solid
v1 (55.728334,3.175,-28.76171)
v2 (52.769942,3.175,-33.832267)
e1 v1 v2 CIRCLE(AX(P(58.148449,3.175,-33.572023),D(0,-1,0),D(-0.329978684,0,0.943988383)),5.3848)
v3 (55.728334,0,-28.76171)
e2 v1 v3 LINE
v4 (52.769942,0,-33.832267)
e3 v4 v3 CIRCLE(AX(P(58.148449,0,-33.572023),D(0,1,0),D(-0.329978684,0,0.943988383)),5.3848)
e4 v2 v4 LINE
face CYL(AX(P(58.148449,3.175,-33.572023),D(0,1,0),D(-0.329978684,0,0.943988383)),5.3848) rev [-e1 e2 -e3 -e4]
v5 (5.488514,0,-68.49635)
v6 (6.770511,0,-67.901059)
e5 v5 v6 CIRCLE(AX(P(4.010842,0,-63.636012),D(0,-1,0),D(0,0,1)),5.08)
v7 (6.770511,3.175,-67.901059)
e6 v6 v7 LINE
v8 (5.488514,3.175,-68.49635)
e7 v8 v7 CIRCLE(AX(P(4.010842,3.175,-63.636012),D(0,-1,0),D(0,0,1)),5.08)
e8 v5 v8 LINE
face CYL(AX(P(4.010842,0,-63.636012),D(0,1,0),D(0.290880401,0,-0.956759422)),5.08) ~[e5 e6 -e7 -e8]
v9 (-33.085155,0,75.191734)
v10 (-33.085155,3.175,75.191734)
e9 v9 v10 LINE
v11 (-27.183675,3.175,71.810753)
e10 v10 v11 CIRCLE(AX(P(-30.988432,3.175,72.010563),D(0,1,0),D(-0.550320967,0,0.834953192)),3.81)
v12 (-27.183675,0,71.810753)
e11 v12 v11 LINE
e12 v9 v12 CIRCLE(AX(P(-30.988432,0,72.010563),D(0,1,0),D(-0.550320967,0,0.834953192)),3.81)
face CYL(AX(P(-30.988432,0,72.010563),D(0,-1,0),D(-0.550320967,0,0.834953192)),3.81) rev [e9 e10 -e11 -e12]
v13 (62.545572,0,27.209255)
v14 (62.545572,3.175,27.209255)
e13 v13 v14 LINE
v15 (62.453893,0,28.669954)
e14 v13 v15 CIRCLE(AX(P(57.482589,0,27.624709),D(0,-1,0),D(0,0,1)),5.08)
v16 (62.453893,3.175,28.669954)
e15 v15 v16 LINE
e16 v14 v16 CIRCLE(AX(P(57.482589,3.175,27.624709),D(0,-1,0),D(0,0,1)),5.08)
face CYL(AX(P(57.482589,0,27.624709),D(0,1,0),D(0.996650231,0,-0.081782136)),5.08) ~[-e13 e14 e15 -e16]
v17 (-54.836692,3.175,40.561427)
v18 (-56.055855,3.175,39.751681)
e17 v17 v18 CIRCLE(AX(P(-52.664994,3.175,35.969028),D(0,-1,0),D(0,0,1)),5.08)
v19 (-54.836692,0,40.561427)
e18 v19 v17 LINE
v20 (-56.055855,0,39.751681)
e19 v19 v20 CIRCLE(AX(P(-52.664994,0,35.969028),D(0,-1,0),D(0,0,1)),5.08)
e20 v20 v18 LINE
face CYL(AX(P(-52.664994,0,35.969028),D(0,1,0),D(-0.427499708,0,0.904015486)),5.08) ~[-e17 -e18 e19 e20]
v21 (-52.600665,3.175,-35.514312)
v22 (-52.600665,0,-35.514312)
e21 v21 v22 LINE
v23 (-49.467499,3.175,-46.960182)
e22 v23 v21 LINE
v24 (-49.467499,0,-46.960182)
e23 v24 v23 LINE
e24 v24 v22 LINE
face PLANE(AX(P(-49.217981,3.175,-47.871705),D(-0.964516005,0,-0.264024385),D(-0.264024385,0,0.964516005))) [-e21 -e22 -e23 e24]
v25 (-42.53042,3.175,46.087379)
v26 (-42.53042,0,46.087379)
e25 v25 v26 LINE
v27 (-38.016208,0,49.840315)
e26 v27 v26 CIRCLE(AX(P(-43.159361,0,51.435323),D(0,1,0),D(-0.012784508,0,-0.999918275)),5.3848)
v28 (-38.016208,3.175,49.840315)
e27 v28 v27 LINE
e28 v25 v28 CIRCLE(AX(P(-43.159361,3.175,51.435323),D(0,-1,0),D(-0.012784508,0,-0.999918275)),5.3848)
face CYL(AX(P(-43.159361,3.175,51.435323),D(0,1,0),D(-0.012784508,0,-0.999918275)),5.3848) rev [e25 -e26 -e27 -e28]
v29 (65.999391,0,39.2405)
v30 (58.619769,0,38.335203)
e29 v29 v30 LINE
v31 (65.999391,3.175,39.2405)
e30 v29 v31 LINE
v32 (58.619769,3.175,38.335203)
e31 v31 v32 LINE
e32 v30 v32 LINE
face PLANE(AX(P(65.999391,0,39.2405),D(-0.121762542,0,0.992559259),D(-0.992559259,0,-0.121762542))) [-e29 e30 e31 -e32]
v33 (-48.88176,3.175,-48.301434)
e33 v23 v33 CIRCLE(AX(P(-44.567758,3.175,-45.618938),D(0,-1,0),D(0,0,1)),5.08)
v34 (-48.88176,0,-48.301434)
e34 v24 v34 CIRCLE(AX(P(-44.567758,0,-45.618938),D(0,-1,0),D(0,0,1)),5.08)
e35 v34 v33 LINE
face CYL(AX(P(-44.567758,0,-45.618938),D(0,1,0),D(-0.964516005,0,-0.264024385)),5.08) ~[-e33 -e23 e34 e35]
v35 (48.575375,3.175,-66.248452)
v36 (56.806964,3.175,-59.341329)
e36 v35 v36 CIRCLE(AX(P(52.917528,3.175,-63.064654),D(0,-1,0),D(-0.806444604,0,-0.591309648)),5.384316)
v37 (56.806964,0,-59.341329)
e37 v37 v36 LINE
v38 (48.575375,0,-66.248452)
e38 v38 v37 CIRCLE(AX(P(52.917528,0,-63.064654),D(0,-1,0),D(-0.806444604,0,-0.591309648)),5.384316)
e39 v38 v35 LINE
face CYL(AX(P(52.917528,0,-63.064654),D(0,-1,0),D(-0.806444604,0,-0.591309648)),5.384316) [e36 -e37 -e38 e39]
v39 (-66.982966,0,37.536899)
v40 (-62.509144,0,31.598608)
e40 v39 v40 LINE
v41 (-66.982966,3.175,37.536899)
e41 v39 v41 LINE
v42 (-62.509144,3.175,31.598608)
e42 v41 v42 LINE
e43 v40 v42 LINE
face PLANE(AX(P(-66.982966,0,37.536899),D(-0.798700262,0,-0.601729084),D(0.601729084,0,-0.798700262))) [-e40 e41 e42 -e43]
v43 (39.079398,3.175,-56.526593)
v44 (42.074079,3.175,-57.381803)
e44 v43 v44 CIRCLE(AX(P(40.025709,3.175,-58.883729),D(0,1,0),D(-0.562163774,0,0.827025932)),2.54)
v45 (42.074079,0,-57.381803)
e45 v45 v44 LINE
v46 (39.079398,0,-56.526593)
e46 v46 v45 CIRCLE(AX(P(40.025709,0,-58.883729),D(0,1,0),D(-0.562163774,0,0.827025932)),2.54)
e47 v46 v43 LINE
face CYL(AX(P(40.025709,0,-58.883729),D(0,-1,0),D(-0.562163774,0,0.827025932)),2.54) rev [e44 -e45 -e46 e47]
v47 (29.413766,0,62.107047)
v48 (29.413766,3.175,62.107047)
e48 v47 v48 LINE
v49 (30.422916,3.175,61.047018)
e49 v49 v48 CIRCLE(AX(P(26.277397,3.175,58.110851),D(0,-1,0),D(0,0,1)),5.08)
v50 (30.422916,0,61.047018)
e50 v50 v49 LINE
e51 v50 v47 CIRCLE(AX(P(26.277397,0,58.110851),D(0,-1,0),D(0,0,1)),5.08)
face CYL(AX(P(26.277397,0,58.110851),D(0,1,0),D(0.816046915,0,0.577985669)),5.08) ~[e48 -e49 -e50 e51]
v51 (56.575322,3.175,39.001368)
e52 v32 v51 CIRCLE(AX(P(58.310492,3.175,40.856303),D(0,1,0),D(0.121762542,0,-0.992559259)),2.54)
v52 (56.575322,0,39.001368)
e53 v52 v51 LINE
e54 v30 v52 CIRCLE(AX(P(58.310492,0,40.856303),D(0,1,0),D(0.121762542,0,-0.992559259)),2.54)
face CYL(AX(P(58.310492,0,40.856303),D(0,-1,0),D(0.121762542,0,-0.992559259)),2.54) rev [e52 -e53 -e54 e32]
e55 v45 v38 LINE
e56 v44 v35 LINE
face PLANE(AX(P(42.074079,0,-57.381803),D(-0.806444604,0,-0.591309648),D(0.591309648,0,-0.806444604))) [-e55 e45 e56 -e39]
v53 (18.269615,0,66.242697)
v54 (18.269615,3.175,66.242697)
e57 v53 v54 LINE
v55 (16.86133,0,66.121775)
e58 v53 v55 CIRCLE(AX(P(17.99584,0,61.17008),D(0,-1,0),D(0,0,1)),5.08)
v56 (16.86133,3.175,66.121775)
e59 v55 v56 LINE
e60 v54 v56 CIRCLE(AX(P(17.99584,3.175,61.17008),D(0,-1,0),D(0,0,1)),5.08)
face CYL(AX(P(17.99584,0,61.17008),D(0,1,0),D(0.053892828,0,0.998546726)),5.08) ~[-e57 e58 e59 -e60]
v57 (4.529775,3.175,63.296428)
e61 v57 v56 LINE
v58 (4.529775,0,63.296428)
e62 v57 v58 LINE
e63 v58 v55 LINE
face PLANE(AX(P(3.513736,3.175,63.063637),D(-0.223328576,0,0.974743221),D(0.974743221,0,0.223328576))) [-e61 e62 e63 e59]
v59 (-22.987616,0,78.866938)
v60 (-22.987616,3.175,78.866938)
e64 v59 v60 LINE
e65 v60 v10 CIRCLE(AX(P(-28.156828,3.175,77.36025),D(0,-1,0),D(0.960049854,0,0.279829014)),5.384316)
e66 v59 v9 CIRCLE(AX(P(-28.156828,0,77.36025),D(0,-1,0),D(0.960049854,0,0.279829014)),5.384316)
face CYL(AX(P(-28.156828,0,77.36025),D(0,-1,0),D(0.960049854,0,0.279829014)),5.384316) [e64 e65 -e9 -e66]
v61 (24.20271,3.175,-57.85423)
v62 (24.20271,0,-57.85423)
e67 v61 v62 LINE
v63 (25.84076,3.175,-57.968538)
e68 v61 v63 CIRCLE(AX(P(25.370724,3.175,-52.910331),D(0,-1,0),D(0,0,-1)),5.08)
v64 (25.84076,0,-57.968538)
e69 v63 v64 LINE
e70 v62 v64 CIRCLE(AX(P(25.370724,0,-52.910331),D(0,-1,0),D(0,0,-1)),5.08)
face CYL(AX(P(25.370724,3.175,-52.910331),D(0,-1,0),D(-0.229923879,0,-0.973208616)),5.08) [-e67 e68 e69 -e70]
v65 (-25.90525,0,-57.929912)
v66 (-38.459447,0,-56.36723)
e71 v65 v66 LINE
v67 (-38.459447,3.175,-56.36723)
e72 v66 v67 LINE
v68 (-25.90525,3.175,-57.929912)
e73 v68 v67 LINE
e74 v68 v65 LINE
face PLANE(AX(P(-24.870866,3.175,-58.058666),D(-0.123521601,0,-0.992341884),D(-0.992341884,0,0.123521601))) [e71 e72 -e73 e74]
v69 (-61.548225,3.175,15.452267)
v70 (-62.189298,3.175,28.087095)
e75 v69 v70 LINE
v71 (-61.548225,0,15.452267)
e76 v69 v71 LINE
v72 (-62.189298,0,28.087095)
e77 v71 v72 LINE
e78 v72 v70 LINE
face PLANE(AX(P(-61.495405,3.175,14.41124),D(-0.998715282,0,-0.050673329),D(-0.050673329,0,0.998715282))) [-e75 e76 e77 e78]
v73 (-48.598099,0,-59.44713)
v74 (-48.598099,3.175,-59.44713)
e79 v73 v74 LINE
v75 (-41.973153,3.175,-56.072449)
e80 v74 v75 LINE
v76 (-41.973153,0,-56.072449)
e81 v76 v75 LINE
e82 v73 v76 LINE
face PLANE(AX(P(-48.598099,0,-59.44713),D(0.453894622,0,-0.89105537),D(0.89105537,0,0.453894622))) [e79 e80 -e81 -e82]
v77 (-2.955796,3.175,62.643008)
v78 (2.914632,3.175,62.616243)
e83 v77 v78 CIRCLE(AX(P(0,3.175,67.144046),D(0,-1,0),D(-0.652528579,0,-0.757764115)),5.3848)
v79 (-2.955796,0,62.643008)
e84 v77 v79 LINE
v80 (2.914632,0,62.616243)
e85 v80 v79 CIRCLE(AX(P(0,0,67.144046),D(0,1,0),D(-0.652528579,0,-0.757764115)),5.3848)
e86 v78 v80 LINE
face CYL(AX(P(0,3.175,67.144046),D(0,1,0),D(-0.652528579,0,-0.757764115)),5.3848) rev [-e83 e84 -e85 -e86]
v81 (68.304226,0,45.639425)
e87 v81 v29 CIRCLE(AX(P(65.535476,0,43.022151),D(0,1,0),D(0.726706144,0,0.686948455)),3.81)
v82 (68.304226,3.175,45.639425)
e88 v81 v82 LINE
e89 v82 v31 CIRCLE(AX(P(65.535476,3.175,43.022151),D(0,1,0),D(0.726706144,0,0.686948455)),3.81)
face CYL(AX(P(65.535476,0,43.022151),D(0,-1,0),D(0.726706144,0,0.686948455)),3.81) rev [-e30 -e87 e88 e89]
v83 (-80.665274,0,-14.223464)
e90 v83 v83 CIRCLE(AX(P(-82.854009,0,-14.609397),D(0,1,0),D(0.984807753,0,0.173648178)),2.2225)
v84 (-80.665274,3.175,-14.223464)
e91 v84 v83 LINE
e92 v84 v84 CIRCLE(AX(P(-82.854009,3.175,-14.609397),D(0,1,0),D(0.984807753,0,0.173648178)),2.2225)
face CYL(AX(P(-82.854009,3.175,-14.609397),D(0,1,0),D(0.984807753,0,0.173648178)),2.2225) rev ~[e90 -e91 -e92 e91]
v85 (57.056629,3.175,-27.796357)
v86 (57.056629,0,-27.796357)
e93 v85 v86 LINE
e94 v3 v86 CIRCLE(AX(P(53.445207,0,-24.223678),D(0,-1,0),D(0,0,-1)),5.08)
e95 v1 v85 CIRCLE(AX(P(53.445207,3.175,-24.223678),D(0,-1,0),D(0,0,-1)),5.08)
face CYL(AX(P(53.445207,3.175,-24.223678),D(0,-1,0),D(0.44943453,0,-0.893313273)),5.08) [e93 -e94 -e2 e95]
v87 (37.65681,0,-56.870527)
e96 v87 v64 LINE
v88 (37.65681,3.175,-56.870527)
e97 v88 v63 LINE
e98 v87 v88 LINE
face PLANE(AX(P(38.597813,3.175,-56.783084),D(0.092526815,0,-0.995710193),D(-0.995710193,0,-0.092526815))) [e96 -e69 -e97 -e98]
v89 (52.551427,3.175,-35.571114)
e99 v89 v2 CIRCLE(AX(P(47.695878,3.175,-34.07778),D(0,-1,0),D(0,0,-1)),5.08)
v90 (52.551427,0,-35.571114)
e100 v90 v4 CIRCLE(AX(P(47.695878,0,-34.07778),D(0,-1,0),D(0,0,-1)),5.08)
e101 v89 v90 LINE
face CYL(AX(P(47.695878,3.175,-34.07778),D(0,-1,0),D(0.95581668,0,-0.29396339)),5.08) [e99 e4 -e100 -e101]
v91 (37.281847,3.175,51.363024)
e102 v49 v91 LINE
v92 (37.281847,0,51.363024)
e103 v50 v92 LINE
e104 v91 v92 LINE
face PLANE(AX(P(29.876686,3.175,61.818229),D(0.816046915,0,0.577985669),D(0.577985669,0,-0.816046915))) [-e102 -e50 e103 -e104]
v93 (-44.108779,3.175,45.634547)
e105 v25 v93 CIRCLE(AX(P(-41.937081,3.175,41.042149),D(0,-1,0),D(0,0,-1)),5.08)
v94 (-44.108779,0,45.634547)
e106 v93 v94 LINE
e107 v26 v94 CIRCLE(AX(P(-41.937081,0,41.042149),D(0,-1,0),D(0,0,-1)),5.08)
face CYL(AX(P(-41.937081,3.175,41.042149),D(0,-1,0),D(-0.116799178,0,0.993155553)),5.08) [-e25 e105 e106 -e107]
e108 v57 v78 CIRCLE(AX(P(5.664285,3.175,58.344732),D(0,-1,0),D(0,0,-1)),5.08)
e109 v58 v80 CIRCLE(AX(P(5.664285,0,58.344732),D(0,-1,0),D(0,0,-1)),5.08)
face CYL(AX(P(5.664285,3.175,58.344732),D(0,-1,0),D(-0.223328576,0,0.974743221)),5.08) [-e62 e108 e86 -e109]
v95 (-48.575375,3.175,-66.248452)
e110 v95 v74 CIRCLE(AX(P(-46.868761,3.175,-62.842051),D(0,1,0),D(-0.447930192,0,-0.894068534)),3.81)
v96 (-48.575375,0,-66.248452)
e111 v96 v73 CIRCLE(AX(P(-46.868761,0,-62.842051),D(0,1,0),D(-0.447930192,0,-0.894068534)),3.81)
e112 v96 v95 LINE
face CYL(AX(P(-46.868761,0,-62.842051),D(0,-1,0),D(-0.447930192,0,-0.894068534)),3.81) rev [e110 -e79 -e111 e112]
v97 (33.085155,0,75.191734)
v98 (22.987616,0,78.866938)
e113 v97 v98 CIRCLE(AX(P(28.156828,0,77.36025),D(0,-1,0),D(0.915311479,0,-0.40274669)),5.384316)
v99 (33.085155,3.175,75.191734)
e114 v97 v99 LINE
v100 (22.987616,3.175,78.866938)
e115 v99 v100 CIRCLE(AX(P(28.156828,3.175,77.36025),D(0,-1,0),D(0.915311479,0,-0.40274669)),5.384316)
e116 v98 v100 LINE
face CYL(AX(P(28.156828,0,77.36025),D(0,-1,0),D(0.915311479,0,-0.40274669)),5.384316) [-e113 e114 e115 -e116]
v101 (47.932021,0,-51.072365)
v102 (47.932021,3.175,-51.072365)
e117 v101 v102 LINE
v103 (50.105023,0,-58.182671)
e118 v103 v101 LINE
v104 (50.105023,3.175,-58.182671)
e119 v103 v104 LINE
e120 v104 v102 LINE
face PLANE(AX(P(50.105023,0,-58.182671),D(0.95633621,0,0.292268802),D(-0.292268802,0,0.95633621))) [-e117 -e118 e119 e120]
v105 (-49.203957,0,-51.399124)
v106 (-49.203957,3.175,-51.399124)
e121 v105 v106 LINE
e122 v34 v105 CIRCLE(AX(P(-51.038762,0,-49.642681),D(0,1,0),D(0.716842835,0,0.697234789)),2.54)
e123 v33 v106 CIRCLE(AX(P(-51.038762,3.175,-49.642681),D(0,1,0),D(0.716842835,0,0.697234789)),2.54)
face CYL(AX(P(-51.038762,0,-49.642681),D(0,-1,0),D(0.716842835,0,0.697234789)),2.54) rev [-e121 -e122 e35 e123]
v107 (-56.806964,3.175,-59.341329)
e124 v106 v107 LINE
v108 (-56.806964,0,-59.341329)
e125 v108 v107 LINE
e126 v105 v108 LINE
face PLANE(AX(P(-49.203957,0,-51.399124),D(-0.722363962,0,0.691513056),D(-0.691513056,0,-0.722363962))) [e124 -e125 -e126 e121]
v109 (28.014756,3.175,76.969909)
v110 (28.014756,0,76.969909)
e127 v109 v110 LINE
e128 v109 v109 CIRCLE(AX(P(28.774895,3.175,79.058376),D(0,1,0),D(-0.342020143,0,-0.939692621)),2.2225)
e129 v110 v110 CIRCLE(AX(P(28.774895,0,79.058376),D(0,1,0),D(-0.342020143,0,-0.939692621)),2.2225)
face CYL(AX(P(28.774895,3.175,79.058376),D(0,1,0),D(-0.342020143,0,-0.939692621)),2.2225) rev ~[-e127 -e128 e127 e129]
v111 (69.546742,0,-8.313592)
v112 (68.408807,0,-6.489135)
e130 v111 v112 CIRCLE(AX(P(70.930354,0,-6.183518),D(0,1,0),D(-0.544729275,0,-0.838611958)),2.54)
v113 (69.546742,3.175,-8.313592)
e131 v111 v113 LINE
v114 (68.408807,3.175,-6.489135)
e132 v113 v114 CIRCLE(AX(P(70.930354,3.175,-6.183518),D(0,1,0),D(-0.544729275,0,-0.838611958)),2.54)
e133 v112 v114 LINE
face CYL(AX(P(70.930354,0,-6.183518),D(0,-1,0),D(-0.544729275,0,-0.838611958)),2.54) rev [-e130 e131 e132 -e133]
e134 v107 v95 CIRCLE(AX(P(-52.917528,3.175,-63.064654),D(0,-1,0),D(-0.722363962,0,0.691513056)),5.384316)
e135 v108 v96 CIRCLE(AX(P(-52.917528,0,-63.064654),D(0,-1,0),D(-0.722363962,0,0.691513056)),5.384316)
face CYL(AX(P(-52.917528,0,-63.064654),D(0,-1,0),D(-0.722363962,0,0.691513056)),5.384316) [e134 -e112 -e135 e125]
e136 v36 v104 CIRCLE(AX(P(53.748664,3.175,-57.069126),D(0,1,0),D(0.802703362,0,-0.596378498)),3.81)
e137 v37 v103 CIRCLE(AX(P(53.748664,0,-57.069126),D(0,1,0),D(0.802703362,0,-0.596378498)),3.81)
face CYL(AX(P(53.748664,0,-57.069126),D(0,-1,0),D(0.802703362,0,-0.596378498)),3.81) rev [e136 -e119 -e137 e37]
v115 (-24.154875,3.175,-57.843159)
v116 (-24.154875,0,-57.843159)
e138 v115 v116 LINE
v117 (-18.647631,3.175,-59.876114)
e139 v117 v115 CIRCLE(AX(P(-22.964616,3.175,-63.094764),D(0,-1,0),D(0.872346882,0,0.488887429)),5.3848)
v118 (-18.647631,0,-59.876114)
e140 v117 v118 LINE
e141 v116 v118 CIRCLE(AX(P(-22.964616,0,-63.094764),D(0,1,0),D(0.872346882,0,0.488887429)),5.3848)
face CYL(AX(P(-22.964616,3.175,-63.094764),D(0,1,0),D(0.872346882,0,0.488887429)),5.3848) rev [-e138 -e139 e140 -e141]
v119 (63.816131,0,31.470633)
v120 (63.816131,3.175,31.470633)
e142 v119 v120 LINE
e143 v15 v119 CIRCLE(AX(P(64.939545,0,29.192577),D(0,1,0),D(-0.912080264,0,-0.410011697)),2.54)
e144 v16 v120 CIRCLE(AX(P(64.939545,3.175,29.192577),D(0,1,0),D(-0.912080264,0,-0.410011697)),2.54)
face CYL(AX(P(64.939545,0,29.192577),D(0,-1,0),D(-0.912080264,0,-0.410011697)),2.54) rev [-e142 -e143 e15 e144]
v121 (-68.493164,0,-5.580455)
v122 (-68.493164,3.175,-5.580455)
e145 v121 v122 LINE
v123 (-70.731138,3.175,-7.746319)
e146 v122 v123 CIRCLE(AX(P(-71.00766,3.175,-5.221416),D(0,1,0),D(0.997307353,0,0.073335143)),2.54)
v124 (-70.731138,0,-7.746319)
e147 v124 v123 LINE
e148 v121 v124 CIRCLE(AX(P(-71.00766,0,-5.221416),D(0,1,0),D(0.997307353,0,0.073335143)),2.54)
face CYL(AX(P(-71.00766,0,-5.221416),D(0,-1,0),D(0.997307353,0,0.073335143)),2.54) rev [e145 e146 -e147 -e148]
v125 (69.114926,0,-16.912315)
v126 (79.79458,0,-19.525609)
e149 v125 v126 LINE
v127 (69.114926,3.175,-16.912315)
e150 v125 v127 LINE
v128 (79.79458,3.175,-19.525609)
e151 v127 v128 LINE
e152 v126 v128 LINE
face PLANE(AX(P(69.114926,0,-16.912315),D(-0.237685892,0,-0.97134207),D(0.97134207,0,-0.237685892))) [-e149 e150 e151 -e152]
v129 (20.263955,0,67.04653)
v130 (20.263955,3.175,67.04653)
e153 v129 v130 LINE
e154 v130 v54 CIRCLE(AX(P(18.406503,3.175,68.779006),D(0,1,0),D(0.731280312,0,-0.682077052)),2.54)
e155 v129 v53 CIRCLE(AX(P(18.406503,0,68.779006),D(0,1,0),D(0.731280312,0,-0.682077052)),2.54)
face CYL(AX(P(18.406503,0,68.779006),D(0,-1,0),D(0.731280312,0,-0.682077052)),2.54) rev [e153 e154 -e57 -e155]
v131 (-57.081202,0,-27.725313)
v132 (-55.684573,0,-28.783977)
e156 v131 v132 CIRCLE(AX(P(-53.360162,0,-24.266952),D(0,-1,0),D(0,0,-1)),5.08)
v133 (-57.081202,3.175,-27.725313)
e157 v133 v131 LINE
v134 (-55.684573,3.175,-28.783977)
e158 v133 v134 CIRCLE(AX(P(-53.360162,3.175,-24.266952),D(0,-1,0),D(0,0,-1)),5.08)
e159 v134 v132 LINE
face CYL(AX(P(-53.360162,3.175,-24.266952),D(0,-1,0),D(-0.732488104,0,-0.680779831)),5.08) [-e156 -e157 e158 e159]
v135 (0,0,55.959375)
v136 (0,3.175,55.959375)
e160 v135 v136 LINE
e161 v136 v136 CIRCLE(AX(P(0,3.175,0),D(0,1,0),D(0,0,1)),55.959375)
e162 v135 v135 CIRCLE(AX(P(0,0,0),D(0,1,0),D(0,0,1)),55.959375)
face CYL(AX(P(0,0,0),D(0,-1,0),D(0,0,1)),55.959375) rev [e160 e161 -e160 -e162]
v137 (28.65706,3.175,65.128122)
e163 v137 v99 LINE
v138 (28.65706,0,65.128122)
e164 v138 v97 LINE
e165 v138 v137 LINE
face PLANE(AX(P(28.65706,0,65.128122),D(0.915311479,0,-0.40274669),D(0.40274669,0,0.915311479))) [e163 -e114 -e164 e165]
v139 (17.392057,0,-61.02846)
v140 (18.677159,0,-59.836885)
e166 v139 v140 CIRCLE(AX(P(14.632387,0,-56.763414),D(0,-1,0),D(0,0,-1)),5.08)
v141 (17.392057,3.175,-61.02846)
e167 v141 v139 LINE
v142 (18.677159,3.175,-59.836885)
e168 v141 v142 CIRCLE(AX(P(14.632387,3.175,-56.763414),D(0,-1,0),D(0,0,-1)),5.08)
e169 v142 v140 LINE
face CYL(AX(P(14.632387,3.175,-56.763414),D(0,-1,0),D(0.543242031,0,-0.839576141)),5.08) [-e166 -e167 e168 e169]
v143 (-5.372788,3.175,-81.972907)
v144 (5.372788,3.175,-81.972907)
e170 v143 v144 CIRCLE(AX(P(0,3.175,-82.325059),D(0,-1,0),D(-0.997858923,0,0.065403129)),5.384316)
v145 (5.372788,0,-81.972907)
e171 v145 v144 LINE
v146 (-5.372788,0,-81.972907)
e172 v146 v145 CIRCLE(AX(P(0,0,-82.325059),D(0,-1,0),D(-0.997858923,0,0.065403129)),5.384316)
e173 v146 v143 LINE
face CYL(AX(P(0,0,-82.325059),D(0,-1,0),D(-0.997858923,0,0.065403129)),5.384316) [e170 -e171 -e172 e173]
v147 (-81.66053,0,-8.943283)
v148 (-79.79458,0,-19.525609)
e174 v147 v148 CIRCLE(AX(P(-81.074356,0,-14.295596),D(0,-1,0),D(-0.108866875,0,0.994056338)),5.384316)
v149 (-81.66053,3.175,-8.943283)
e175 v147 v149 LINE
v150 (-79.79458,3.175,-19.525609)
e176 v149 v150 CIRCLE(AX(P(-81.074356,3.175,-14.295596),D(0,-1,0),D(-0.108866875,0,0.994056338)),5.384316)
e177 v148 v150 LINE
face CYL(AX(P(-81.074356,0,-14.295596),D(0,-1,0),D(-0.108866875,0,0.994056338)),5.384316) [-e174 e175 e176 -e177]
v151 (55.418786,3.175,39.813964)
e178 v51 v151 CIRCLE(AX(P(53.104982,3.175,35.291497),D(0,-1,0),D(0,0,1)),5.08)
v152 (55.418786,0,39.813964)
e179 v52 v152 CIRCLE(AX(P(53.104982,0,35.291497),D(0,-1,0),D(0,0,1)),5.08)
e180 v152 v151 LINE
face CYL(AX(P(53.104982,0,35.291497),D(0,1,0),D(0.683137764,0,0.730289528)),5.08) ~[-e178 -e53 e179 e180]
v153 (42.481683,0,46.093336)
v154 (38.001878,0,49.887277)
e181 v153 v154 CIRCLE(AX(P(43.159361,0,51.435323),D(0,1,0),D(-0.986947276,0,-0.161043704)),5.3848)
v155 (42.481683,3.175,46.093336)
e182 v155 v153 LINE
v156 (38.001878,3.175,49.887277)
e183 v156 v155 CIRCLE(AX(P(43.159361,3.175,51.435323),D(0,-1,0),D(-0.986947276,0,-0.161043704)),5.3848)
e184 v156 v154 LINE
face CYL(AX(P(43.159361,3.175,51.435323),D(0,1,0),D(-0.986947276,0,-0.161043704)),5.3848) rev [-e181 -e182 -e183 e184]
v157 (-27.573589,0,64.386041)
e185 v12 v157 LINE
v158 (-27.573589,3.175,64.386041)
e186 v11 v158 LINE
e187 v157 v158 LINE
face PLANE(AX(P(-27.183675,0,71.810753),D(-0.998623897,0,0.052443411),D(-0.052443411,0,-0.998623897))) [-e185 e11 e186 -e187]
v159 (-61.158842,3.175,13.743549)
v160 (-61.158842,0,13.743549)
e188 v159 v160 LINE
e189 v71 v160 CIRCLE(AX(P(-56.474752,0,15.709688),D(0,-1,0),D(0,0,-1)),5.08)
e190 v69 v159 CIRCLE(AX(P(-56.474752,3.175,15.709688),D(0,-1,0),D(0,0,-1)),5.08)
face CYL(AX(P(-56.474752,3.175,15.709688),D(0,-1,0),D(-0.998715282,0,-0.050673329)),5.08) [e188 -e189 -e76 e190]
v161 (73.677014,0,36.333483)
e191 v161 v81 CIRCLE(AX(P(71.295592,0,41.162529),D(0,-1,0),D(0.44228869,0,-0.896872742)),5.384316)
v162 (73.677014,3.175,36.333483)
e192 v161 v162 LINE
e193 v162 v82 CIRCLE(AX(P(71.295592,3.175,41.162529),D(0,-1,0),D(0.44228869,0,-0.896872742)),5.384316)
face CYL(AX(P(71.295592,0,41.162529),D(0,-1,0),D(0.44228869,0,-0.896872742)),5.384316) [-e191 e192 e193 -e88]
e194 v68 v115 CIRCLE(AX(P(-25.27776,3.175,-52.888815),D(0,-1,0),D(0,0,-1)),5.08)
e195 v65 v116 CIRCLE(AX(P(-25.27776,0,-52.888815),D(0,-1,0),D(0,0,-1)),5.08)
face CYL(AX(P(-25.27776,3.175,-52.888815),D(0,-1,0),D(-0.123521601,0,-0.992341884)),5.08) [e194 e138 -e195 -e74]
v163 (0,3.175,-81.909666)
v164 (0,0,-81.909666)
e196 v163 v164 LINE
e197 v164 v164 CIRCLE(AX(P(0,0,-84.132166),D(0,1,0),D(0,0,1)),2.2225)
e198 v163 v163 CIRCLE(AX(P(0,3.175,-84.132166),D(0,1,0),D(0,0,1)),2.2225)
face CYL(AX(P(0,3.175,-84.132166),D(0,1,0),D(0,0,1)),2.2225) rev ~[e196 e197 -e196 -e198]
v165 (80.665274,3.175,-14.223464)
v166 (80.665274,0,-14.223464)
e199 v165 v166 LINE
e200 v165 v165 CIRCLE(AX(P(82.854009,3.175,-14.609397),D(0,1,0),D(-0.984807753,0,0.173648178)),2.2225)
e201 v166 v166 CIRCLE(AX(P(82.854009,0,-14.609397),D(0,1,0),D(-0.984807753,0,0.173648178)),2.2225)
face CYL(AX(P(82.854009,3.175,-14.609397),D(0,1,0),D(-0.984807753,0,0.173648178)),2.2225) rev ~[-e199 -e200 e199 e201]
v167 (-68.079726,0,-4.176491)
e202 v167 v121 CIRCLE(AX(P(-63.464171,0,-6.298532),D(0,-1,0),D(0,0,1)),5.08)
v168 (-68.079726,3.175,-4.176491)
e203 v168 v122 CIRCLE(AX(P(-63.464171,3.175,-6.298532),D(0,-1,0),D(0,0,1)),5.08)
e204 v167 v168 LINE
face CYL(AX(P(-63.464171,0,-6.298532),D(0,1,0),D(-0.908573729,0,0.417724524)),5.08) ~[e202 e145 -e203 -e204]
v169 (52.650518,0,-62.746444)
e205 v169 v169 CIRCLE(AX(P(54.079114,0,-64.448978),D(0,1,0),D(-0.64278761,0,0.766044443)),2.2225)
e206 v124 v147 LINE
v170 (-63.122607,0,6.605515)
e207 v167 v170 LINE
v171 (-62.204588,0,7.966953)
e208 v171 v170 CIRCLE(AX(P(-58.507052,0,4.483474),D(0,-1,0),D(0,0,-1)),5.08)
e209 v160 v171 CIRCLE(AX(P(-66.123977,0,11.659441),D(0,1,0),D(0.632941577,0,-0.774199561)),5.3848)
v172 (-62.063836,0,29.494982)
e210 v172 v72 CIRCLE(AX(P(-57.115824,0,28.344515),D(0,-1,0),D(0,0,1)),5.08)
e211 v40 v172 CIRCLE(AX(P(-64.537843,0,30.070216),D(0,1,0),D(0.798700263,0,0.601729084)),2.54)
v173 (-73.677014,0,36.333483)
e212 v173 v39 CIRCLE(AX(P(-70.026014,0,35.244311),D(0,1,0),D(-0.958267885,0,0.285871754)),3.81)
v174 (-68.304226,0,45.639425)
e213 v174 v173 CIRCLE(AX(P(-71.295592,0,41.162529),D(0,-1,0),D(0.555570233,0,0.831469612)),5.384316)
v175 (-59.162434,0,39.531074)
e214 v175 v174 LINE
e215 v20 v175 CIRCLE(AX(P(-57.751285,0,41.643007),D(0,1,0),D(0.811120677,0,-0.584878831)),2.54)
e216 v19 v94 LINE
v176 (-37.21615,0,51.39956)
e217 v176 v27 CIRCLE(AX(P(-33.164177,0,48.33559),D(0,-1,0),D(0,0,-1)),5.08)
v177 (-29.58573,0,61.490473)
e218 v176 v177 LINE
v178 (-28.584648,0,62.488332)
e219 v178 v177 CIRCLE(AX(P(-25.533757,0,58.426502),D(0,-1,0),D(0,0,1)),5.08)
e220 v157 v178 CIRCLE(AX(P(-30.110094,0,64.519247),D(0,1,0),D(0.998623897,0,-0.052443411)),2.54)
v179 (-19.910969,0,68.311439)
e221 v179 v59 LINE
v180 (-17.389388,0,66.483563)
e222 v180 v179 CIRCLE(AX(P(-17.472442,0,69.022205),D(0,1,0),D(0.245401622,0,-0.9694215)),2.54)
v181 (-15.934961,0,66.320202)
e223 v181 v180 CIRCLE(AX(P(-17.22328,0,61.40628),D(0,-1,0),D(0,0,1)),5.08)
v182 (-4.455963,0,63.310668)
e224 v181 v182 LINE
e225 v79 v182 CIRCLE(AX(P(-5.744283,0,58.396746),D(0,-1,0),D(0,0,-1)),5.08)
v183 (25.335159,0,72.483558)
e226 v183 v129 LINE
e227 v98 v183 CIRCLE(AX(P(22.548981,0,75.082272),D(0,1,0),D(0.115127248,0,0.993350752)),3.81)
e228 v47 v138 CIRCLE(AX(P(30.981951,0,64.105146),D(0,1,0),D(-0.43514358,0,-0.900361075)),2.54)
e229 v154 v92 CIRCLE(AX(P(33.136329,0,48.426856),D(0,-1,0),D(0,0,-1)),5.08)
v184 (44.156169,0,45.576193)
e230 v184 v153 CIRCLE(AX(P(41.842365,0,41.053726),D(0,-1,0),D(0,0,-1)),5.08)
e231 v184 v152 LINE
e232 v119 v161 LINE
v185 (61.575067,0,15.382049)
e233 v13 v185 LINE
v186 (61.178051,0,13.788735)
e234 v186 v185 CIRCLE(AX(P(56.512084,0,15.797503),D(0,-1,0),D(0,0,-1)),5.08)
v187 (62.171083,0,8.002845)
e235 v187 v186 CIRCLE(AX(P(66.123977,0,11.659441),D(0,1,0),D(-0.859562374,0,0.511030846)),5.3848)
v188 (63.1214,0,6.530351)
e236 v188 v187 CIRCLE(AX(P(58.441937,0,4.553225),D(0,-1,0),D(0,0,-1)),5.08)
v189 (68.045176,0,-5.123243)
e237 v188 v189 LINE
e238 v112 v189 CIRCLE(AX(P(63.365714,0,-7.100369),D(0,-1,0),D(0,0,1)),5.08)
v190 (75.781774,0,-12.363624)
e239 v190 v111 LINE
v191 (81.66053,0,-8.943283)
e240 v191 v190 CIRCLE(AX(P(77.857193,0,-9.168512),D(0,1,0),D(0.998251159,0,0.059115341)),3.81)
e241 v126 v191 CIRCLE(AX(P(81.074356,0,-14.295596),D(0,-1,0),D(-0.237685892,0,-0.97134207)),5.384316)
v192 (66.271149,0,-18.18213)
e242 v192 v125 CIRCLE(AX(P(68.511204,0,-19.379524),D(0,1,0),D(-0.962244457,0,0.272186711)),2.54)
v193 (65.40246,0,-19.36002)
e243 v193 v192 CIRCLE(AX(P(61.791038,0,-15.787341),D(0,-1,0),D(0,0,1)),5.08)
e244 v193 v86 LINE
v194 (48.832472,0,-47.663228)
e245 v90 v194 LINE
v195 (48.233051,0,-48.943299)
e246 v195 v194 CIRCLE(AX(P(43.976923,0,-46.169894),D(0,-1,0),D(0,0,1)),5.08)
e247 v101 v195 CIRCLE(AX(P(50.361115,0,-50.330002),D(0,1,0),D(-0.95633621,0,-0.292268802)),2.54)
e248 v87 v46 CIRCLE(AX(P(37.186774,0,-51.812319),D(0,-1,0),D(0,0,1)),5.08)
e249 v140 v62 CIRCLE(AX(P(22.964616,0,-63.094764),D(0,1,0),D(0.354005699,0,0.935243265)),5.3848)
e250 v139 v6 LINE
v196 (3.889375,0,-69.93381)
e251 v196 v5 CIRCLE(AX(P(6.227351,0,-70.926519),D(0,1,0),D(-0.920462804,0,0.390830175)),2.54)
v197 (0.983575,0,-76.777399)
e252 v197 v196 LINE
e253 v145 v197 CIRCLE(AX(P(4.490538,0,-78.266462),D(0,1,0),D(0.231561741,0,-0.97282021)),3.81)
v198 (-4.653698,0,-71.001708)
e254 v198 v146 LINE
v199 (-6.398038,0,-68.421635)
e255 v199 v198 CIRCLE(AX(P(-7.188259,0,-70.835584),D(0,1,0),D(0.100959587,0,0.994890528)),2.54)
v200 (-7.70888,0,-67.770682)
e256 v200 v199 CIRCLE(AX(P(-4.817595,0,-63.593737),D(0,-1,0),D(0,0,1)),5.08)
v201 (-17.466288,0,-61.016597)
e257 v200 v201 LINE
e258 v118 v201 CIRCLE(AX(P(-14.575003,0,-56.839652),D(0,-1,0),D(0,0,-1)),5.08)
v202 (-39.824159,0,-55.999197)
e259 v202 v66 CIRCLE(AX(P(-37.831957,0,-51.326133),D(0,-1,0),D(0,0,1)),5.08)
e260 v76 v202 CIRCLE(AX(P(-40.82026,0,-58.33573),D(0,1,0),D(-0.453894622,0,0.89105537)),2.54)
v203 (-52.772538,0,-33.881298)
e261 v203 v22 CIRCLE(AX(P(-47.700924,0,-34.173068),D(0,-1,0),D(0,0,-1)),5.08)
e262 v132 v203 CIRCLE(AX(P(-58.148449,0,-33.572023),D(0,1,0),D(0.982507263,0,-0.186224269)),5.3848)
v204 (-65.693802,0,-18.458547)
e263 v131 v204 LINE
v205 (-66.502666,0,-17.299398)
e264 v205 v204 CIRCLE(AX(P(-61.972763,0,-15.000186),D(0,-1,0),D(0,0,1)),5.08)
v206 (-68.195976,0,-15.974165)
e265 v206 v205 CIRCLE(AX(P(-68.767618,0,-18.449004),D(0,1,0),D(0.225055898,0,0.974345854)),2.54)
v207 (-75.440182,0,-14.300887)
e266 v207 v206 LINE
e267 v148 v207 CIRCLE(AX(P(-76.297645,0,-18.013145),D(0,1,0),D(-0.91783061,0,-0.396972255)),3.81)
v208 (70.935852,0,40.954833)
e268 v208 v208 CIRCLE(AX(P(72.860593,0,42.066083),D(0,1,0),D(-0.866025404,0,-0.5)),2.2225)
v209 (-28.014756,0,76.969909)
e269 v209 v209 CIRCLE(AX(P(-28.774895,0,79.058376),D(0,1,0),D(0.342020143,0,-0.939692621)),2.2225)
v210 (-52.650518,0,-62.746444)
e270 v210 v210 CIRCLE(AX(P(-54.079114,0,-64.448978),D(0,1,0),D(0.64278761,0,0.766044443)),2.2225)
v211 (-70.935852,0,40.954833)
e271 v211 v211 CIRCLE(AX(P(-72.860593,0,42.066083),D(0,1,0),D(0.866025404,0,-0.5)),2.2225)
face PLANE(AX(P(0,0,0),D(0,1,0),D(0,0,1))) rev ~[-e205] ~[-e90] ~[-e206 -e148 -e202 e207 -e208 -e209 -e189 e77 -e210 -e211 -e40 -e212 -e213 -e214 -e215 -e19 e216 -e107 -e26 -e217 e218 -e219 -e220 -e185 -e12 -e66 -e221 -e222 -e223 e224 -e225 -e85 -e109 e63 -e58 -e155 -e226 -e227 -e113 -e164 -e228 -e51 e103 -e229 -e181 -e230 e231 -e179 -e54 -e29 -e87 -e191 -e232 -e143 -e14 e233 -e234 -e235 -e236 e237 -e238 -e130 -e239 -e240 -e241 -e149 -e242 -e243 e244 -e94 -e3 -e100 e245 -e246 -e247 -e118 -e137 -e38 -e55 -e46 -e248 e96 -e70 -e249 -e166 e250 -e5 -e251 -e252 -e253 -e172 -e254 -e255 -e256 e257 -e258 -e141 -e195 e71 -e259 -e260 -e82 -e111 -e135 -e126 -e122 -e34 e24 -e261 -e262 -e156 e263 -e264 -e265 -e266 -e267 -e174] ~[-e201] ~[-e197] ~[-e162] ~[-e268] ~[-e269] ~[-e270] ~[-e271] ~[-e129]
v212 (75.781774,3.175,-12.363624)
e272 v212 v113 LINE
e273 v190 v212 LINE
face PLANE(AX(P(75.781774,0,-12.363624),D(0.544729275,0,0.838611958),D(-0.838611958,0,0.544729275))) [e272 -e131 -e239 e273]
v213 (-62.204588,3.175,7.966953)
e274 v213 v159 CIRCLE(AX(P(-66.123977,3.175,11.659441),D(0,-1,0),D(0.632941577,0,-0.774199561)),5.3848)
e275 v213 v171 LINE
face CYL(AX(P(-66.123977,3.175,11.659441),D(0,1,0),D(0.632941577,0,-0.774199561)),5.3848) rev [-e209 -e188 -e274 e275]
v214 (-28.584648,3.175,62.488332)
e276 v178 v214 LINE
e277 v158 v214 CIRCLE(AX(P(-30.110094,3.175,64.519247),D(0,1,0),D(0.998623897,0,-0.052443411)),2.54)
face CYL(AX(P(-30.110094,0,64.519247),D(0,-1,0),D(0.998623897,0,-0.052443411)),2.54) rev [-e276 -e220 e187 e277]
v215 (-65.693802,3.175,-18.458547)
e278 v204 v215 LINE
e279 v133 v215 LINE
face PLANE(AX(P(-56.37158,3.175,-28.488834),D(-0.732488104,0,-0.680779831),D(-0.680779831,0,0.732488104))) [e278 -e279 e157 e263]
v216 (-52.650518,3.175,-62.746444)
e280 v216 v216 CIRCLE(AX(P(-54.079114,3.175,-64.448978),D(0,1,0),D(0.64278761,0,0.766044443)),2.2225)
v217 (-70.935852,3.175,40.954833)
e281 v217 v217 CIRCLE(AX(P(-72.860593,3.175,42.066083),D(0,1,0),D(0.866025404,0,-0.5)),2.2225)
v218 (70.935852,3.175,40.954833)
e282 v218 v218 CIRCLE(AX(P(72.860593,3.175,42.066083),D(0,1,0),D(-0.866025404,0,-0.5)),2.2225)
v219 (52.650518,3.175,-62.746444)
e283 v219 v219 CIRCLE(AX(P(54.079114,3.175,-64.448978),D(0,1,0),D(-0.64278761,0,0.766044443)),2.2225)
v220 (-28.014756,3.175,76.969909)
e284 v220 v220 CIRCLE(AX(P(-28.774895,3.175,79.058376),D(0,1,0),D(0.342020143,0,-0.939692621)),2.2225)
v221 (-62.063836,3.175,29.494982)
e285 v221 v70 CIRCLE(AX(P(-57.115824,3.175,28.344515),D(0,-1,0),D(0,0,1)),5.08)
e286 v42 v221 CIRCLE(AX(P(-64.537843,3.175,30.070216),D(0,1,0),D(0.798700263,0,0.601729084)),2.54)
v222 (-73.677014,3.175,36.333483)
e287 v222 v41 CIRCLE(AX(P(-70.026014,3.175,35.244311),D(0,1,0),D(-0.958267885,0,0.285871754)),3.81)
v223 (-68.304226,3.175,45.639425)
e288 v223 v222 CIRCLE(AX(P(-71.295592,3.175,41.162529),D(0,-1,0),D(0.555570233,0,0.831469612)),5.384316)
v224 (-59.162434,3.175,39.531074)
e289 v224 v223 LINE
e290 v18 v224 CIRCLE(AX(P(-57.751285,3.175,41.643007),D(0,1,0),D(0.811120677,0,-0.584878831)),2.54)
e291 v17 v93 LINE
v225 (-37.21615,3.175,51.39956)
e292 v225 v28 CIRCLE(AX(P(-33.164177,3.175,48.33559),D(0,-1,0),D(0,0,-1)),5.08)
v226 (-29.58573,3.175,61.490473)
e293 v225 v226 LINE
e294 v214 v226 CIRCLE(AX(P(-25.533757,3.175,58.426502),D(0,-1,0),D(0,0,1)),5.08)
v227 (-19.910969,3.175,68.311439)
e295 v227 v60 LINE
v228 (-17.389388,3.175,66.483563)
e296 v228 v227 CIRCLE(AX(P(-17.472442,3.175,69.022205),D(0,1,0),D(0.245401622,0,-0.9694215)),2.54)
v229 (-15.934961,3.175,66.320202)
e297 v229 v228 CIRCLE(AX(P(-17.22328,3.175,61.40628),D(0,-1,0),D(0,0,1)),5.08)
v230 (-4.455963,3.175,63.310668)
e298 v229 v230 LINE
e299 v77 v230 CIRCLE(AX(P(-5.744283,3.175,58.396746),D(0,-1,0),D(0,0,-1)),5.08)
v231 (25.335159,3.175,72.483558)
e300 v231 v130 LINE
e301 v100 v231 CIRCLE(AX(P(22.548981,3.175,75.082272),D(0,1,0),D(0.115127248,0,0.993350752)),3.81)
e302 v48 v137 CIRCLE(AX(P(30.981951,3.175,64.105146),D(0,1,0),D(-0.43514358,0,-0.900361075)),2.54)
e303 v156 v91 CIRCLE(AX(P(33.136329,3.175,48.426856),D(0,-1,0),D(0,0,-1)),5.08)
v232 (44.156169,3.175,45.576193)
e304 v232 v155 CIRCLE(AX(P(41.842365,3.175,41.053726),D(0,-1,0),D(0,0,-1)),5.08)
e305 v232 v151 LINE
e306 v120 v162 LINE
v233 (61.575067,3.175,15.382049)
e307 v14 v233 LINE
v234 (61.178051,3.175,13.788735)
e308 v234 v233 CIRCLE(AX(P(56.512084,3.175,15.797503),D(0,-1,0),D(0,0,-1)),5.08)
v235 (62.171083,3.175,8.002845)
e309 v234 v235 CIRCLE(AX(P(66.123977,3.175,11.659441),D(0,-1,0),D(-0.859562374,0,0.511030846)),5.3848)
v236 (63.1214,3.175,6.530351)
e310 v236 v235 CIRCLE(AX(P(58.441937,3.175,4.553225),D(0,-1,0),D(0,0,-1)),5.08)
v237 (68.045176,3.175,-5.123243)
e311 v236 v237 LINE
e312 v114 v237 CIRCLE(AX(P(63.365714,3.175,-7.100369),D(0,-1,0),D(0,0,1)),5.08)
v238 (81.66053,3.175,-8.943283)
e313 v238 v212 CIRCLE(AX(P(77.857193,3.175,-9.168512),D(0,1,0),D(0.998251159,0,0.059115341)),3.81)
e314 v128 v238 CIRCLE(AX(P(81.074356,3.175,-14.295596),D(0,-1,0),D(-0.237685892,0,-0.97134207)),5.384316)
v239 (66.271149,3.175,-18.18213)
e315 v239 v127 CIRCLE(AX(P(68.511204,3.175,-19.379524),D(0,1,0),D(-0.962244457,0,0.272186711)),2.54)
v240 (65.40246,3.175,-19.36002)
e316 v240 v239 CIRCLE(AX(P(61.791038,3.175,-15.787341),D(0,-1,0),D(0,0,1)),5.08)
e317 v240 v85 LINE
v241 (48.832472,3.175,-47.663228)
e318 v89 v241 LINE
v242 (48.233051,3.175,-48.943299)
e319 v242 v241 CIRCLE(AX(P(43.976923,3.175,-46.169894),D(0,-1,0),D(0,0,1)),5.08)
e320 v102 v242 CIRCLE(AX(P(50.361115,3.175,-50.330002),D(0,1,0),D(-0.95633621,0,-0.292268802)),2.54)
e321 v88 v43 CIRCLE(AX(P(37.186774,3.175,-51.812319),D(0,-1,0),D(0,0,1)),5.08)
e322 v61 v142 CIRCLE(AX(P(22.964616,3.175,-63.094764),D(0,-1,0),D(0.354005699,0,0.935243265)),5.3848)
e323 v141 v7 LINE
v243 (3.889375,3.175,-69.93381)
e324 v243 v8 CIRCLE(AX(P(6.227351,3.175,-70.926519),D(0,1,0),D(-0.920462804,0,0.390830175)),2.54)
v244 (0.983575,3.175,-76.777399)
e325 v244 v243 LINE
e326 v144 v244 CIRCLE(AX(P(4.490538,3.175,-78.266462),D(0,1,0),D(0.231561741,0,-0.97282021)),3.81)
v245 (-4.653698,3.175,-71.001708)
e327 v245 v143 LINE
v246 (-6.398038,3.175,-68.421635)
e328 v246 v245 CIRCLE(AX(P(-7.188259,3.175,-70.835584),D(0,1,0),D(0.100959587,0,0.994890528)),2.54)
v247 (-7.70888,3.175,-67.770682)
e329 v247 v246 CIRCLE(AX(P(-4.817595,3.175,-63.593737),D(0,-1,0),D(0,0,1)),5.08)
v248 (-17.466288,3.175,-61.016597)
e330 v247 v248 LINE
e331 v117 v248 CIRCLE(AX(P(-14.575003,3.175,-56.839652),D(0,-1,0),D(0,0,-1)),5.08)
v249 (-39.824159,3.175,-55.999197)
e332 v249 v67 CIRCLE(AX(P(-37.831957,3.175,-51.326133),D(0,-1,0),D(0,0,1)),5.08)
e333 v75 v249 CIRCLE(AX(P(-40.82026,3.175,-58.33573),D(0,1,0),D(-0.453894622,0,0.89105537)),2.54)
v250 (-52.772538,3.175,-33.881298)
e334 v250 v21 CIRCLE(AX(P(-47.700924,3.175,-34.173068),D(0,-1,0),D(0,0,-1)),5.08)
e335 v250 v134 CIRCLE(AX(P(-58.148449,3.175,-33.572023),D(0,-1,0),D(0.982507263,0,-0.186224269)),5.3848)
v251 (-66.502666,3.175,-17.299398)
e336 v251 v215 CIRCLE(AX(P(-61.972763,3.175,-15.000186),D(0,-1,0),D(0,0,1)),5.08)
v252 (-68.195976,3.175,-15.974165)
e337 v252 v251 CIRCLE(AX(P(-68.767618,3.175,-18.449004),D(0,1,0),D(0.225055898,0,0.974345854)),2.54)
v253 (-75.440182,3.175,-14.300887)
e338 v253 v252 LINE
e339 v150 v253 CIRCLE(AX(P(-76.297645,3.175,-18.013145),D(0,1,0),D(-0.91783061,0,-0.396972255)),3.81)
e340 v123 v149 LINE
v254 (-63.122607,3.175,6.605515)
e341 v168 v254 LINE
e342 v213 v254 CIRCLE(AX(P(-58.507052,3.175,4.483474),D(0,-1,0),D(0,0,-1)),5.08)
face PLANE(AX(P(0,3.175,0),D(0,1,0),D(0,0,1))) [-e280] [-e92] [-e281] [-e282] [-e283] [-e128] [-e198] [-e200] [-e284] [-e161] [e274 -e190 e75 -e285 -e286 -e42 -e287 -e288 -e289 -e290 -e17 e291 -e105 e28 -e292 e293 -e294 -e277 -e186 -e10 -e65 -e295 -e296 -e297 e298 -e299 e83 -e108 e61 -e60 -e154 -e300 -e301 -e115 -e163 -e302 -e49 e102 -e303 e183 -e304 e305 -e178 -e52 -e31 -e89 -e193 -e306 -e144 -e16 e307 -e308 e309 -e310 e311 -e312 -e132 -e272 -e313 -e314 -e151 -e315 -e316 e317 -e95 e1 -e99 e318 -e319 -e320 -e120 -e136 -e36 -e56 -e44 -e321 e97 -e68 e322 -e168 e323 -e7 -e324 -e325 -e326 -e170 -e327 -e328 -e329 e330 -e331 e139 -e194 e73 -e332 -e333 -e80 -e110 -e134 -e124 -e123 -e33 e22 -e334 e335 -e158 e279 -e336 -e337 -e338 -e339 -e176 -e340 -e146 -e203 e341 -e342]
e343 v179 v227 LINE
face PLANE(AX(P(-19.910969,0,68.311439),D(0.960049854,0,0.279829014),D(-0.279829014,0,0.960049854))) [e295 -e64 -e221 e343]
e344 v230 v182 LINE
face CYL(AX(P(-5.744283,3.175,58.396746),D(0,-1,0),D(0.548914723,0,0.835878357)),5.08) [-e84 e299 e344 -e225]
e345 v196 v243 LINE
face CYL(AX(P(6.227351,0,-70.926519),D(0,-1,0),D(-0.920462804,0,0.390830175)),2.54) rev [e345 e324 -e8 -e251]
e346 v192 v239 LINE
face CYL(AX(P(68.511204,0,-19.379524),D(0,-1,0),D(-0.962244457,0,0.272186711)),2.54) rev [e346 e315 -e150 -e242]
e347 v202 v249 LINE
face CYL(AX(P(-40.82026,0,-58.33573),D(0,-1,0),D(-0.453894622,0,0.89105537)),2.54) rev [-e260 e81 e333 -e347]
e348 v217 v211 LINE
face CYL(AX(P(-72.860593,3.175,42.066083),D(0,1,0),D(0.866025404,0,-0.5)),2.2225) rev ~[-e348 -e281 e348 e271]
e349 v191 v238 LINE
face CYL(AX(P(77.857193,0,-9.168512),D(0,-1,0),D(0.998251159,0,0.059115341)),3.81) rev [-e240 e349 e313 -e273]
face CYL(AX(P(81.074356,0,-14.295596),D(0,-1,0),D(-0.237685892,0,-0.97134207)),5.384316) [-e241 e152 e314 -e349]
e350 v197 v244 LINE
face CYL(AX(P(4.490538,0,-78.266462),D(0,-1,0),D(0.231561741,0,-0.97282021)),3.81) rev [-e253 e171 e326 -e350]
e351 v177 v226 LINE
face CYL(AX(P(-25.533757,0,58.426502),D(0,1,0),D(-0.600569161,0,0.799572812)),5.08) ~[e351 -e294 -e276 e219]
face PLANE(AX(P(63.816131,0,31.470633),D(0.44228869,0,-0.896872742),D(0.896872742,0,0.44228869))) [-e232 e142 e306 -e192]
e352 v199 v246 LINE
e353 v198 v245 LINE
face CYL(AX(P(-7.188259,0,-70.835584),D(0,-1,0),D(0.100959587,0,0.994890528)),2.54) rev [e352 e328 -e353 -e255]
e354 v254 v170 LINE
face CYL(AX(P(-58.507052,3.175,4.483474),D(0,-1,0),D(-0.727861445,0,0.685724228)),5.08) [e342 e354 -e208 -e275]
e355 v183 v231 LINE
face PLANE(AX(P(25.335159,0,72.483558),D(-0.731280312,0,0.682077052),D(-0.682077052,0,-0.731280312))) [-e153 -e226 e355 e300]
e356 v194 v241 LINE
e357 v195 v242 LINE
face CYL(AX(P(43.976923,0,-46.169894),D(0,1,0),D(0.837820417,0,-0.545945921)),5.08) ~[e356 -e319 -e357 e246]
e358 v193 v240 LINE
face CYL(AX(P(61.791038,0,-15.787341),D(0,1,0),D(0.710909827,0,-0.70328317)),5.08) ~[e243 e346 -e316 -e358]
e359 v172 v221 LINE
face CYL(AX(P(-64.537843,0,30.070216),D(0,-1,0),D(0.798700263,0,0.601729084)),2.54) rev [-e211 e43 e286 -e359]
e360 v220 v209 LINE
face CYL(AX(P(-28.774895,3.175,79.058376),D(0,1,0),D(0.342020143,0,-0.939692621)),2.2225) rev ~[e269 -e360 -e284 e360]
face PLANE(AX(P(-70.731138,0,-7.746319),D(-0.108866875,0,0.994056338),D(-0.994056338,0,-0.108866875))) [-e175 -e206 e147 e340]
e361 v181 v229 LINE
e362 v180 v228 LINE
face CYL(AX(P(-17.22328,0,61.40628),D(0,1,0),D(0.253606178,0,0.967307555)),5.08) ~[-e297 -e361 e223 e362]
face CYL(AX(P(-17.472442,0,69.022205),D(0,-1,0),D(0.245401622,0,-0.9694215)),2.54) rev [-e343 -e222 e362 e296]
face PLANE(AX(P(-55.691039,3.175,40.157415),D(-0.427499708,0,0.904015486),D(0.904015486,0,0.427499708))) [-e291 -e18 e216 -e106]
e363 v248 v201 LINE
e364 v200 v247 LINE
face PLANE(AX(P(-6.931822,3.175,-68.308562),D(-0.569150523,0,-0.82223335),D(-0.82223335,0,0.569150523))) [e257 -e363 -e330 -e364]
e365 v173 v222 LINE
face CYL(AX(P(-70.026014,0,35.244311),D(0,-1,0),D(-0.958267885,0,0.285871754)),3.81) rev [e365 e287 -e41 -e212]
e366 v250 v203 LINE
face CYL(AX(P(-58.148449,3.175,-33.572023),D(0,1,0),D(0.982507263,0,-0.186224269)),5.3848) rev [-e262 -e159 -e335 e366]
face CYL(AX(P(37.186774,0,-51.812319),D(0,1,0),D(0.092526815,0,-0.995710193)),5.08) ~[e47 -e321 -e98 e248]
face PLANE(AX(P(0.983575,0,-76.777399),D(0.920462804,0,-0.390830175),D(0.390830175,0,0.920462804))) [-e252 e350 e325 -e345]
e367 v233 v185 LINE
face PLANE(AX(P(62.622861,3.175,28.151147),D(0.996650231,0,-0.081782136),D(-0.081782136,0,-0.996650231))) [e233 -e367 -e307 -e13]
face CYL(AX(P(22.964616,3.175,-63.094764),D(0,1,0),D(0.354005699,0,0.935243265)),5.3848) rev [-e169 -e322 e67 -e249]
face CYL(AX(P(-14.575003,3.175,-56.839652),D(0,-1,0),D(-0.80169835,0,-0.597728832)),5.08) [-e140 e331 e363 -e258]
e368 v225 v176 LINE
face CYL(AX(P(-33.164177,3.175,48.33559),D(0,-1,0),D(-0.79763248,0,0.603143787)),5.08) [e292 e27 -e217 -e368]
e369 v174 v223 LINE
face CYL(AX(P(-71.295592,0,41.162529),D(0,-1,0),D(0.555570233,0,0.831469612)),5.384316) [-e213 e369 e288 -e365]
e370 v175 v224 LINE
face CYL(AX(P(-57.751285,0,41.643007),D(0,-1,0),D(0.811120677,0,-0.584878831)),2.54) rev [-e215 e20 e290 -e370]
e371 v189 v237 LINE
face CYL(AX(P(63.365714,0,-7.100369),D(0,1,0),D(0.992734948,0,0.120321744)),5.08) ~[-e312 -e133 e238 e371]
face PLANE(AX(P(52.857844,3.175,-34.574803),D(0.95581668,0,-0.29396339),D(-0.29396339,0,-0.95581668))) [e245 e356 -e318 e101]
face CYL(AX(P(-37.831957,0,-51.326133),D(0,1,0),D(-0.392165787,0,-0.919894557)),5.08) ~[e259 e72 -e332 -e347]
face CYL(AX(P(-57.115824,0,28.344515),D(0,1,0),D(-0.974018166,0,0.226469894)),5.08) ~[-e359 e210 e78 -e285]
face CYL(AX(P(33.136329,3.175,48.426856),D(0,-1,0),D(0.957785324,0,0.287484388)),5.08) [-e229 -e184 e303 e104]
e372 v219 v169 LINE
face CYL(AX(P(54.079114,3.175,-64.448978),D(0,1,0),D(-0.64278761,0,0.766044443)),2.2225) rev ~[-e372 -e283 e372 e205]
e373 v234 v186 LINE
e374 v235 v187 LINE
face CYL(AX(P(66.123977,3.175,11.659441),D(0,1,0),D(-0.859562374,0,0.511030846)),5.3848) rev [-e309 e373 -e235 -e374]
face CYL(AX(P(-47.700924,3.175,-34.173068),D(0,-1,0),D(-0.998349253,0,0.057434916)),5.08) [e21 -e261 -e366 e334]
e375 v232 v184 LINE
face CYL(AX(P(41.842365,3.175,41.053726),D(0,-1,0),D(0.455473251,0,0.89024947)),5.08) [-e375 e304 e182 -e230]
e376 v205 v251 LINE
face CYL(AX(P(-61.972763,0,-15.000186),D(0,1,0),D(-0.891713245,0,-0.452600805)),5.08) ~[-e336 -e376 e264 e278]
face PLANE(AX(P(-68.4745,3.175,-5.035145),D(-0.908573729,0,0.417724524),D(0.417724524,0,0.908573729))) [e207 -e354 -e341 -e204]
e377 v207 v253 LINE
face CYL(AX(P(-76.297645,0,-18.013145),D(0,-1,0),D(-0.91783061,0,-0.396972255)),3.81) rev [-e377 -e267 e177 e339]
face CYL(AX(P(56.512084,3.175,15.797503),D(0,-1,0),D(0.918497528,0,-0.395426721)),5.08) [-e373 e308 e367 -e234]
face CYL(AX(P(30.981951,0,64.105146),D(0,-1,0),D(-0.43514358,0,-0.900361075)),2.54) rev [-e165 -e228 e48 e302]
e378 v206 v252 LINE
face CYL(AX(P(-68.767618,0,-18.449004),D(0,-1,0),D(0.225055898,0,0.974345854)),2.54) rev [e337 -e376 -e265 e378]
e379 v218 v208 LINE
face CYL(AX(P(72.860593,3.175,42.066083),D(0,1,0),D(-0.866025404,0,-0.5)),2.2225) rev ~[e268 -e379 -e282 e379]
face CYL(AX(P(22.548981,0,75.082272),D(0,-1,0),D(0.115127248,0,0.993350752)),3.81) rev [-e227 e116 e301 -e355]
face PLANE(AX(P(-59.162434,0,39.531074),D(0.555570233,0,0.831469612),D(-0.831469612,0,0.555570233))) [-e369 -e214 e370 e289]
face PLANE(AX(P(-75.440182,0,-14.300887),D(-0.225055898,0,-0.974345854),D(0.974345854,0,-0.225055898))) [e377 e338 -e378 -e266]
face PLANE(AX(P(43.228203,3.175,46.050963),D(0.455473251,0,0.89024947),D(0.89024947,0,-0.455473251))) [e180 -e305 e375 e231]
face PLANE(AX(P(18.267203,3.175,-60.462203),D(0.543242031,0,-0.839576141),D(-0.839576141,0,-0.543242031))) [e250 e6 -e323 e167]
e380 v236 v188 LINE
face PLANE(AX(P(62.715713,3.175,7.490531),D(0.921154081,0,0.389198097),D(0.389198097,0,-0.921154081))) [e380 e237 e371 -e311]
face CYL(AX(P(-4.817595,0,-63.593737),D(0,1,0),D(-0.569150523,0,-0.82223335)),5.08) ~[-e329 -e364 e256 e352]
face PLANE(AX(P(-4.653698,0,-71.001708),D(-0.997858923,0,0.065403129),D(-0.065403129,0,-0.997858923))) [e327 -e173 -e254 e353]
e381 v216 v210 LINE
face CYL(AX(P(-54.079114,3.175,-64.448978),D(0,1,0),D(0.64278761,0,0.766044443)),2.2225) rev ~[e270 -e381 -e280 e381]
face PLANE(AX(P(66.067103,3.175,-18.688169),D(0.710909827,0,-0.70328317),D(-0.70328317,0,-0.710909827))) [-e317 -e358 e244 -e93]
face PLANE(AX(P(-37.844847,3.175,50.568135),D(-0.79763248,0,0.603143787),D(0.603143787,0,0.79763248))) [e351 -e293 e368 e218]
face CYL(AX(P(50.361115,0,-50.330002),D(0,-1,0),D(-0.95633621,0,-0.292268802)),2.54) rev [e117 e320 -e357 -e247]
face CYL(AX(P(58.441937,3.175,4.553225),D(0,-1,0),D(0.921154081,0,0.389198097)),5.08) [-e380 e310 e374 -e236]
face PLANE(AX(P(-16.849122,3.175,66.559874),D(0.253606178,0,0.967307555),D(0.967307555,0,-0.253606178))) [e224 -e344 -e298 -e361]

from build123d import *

# Parameters (mm, degrees)
SKETCH1_R           = 68.659375
SKETCH1_R_2         = 55.959375
BOSS_EXTRUDE1_DEPTH = 3.175
BOSS_EXTRUDE2_START = -3.175
BOSS_EXTRUDE2_DEPTH = 3.175
CIRPATTERN1_COUNT   = 9
SKETCH3_R           = 2.2225
CUT_EXTRUDE6_DEPTH  = 124.199501286
CIRPATTERN10_COUNT  = 9
CUT_EXTRUDE7_DEPTH  = 124.199501286
CIRPATTERN12_COUNT  = 9
FILLET1_R           = 5.08


with BuildPart() as part:
    # Sketch1 → Boss-Extrude1 (new body)
    with BuildSketch(Plane(origin=(0, 0, 0), x_dir=(1, 0, 0), z_dir=(0, 1, 0))):
        with Locations(Location((0, 0, 0), (0, 0, 270))):
            Circle(SKETCH1_R)
        with Locations(Location((0, 0, 0), (0, 0, 270))):
            Circle(SKETCH1_R_2, mode=Mode.SUBTRACT)
    extrude(amount=BOSS_EXTRUDE1_DEPTH)

    # Sketch2 → Boss-Extrude2 (add)
    with BuildSketch(Plane(origin=(0, 3.175, 0), x_dir=(1, 0, 0), z_dir=(0, 1, 0)).offset(BOSS_EXTRUDE2_START)):
        with BuildLine():
            Line((-4.653697789, 71.001707707), (-5.372788209, 81.972907412))
            ThreePointArc((-5.372788209, 81.972907412), (0, 87.709375), (5.372788209, 81.972907412))
            ThreePointArc((5.372788209, 81.972907412), (1.580107525, 80.725221164), (0.983574692, 76.777399446))
            Line((0.983574692, 76.777399446), (3.889375, 69.933810414))
            ThreePointArc((3.889375, 69.933810414), (4.734169071, 68.871766239), (6.005193091, 68.39625305))
            ThreePointArc((6.005193091, 68.39625305), (-0.46538454, 68.657797755), (-6.931822104, 68.308561818))
            ThreePointArc((-6.931822104, 68.308561818), (-5.249012804, 69.195180628), (-4.653697789, 71.001707707))
        make_face()
    boss_extrude2 = extrude(amount=BOSS_EXTRUDE2_DEPTH)

    # CirPattern1: Boss-Extrude2 ×9 about axis
    cirpattern1_axis = Axis((0, 0, 0), (0, 1, 0))
    for i in range(1, CIRPATTERN1_COUNT):
        add(boss_extrude2.rotate(cirpattern1_axis, i * 360 / CIRPATTERN1_COUNT))

    # Sketch3 → Cut-Extrude6 (cut, through all)
    with BuildSketch(Plane(origin=(0, 3.175, 0), x_dir=(1, 0, 0), z_dir=(0, 1, 0))):
        with Locations(Location((0, 84.132166, 0), (0, 0, 270))):
            Circle(SKETCH3_R)
    cut_extrude6 = extrude(amount=-CUT_EXTRUDE6_DEPTH, mode=Mode.SUBTRACT)

    # CirPattern10: Cut-Extrude6 ×9 about axis
    cirpattern10_axis = Axis((0, 0, 0), (0, 1, 0))
    for i in range(1, CIRPATTERN10_COUNT):
        add(cut_extrude6.rotate(cirpattern10_axis, i * 360 / CIRPATTERN10_COUNT), mode=Mode.SUBTRACT)

    # Sketch4 → Cut-Extrude7 (cut, through all)
    with BuildSketch(Plane(origin=(0, 3.175, 0), x_dir=(1, 0, 0), z_dir=(0, 1, 0))):
        with BuildLine():
            Line((18.267202623, 60.462203187), (6.005193091, 68.39625305))
            ThreePointArc((6.005193091, 68.39625305), (23.04503141, 64.676396797), (38.597813369, 56.78308356))
            Line((38.597813369, 56.78308356), (24.870866002, 58.05866628))
            ThreePointArc((24.870866002, 58.05866628), (21.122906044, 58.034707389), (18.267202623, 60.462203187))
        make_face()
    cut_extrude7 = extrude(amount=-CUT_EXTRUDE7_DEPTH, mode=Mode.SUBTRACT)

    # CirPattern12: Cut-Extrude7 ×9 about axis
    cirpattern12_axis = Axis((0, 0, 0), (0, 1, 0))
    for i in range(1, CIRPATTERN12_COUNT):
        add(cut_extrude7.rotate(cirpattern12_axis, i * 360 / CIRPATTERN12_COUNT), mode=Mode.SUBTRACT)

    # Fillet1
    fillet1_edges = [part.edges().sort_by_distance(p)[0] for p in [
        (-16.849122023, 1.5875, 66.559874267),
        (-62.235489211, 1.5875, 28.997476754),
        (-55.691038779, 1.5875, 40.157414946),
        (6.005193091, 1.5875, -68.39625305),
        (-66.314369444, 1.5875, -17.790845415),
        (-68.474499552, 1.5875, -5.035145128),
        (-6.931822104, 1.5875, -68.308561818),
        (-39.364019213, 1.5875, -56.254633292),
        (-49.217980976, 1.5875, -47.871704837),
        (24.870866002, 1.5875, -58.05866628),
        (18.267202623, 1.5875, -60.462203187),
        (56.371580016, 1.5875, -28.48883417),
        (52.857844124, 1.5875, -34.574803261),
        (61.49540524, 1.5875, 14.411240066),
        (62.715712909, 1.5875, 7.490531368),
        (37.844846907, 1.5875, 50.568134912),
        (43.228202617, 1.5875, 46.050963121),
        (-3.513735893, 1.5875, 63.063637431),
        (3.513735893, 1.5875, 63.063637431),
        (-43.228202617, 1.5875, 46.050963121),
        (-37.844846907, 1.5875, 50.568134912),
        (-62.715712909, 1.5875, 7.490531368),
        (-61.49540524, 1.5875, 14.411240066),
        (-52.857844124, 1.5875, -34.574803261),
        (-56.371580016, 1.5875, -28.48883417),
        (-18.267202623, 1.5875, -60.462203187),
        (-24.870866002, 1.5875, -58.05866628),
        (48.564508807, 1.5875, -48.534505867),
        (38.597813369, 1.5875, -56.78308356),
        (68.399951118, 1.5875, -5.962923987),
        (66.067103, 1.5875, -18.68816943),
        (56.23029612, 1.5875, 39.398776296),
        (62.622860883, 1.5875, 28.151146872),
        (17.749860638, 1.5875, 66.325351282),
        (29.876686184, 1.5875, 61.818228688),
        (-29.035931905, 1.5875, 62.217557279),
    ]]
    fillet(fillet1_edges, radius=FILLET1_R)


solid = part.part
